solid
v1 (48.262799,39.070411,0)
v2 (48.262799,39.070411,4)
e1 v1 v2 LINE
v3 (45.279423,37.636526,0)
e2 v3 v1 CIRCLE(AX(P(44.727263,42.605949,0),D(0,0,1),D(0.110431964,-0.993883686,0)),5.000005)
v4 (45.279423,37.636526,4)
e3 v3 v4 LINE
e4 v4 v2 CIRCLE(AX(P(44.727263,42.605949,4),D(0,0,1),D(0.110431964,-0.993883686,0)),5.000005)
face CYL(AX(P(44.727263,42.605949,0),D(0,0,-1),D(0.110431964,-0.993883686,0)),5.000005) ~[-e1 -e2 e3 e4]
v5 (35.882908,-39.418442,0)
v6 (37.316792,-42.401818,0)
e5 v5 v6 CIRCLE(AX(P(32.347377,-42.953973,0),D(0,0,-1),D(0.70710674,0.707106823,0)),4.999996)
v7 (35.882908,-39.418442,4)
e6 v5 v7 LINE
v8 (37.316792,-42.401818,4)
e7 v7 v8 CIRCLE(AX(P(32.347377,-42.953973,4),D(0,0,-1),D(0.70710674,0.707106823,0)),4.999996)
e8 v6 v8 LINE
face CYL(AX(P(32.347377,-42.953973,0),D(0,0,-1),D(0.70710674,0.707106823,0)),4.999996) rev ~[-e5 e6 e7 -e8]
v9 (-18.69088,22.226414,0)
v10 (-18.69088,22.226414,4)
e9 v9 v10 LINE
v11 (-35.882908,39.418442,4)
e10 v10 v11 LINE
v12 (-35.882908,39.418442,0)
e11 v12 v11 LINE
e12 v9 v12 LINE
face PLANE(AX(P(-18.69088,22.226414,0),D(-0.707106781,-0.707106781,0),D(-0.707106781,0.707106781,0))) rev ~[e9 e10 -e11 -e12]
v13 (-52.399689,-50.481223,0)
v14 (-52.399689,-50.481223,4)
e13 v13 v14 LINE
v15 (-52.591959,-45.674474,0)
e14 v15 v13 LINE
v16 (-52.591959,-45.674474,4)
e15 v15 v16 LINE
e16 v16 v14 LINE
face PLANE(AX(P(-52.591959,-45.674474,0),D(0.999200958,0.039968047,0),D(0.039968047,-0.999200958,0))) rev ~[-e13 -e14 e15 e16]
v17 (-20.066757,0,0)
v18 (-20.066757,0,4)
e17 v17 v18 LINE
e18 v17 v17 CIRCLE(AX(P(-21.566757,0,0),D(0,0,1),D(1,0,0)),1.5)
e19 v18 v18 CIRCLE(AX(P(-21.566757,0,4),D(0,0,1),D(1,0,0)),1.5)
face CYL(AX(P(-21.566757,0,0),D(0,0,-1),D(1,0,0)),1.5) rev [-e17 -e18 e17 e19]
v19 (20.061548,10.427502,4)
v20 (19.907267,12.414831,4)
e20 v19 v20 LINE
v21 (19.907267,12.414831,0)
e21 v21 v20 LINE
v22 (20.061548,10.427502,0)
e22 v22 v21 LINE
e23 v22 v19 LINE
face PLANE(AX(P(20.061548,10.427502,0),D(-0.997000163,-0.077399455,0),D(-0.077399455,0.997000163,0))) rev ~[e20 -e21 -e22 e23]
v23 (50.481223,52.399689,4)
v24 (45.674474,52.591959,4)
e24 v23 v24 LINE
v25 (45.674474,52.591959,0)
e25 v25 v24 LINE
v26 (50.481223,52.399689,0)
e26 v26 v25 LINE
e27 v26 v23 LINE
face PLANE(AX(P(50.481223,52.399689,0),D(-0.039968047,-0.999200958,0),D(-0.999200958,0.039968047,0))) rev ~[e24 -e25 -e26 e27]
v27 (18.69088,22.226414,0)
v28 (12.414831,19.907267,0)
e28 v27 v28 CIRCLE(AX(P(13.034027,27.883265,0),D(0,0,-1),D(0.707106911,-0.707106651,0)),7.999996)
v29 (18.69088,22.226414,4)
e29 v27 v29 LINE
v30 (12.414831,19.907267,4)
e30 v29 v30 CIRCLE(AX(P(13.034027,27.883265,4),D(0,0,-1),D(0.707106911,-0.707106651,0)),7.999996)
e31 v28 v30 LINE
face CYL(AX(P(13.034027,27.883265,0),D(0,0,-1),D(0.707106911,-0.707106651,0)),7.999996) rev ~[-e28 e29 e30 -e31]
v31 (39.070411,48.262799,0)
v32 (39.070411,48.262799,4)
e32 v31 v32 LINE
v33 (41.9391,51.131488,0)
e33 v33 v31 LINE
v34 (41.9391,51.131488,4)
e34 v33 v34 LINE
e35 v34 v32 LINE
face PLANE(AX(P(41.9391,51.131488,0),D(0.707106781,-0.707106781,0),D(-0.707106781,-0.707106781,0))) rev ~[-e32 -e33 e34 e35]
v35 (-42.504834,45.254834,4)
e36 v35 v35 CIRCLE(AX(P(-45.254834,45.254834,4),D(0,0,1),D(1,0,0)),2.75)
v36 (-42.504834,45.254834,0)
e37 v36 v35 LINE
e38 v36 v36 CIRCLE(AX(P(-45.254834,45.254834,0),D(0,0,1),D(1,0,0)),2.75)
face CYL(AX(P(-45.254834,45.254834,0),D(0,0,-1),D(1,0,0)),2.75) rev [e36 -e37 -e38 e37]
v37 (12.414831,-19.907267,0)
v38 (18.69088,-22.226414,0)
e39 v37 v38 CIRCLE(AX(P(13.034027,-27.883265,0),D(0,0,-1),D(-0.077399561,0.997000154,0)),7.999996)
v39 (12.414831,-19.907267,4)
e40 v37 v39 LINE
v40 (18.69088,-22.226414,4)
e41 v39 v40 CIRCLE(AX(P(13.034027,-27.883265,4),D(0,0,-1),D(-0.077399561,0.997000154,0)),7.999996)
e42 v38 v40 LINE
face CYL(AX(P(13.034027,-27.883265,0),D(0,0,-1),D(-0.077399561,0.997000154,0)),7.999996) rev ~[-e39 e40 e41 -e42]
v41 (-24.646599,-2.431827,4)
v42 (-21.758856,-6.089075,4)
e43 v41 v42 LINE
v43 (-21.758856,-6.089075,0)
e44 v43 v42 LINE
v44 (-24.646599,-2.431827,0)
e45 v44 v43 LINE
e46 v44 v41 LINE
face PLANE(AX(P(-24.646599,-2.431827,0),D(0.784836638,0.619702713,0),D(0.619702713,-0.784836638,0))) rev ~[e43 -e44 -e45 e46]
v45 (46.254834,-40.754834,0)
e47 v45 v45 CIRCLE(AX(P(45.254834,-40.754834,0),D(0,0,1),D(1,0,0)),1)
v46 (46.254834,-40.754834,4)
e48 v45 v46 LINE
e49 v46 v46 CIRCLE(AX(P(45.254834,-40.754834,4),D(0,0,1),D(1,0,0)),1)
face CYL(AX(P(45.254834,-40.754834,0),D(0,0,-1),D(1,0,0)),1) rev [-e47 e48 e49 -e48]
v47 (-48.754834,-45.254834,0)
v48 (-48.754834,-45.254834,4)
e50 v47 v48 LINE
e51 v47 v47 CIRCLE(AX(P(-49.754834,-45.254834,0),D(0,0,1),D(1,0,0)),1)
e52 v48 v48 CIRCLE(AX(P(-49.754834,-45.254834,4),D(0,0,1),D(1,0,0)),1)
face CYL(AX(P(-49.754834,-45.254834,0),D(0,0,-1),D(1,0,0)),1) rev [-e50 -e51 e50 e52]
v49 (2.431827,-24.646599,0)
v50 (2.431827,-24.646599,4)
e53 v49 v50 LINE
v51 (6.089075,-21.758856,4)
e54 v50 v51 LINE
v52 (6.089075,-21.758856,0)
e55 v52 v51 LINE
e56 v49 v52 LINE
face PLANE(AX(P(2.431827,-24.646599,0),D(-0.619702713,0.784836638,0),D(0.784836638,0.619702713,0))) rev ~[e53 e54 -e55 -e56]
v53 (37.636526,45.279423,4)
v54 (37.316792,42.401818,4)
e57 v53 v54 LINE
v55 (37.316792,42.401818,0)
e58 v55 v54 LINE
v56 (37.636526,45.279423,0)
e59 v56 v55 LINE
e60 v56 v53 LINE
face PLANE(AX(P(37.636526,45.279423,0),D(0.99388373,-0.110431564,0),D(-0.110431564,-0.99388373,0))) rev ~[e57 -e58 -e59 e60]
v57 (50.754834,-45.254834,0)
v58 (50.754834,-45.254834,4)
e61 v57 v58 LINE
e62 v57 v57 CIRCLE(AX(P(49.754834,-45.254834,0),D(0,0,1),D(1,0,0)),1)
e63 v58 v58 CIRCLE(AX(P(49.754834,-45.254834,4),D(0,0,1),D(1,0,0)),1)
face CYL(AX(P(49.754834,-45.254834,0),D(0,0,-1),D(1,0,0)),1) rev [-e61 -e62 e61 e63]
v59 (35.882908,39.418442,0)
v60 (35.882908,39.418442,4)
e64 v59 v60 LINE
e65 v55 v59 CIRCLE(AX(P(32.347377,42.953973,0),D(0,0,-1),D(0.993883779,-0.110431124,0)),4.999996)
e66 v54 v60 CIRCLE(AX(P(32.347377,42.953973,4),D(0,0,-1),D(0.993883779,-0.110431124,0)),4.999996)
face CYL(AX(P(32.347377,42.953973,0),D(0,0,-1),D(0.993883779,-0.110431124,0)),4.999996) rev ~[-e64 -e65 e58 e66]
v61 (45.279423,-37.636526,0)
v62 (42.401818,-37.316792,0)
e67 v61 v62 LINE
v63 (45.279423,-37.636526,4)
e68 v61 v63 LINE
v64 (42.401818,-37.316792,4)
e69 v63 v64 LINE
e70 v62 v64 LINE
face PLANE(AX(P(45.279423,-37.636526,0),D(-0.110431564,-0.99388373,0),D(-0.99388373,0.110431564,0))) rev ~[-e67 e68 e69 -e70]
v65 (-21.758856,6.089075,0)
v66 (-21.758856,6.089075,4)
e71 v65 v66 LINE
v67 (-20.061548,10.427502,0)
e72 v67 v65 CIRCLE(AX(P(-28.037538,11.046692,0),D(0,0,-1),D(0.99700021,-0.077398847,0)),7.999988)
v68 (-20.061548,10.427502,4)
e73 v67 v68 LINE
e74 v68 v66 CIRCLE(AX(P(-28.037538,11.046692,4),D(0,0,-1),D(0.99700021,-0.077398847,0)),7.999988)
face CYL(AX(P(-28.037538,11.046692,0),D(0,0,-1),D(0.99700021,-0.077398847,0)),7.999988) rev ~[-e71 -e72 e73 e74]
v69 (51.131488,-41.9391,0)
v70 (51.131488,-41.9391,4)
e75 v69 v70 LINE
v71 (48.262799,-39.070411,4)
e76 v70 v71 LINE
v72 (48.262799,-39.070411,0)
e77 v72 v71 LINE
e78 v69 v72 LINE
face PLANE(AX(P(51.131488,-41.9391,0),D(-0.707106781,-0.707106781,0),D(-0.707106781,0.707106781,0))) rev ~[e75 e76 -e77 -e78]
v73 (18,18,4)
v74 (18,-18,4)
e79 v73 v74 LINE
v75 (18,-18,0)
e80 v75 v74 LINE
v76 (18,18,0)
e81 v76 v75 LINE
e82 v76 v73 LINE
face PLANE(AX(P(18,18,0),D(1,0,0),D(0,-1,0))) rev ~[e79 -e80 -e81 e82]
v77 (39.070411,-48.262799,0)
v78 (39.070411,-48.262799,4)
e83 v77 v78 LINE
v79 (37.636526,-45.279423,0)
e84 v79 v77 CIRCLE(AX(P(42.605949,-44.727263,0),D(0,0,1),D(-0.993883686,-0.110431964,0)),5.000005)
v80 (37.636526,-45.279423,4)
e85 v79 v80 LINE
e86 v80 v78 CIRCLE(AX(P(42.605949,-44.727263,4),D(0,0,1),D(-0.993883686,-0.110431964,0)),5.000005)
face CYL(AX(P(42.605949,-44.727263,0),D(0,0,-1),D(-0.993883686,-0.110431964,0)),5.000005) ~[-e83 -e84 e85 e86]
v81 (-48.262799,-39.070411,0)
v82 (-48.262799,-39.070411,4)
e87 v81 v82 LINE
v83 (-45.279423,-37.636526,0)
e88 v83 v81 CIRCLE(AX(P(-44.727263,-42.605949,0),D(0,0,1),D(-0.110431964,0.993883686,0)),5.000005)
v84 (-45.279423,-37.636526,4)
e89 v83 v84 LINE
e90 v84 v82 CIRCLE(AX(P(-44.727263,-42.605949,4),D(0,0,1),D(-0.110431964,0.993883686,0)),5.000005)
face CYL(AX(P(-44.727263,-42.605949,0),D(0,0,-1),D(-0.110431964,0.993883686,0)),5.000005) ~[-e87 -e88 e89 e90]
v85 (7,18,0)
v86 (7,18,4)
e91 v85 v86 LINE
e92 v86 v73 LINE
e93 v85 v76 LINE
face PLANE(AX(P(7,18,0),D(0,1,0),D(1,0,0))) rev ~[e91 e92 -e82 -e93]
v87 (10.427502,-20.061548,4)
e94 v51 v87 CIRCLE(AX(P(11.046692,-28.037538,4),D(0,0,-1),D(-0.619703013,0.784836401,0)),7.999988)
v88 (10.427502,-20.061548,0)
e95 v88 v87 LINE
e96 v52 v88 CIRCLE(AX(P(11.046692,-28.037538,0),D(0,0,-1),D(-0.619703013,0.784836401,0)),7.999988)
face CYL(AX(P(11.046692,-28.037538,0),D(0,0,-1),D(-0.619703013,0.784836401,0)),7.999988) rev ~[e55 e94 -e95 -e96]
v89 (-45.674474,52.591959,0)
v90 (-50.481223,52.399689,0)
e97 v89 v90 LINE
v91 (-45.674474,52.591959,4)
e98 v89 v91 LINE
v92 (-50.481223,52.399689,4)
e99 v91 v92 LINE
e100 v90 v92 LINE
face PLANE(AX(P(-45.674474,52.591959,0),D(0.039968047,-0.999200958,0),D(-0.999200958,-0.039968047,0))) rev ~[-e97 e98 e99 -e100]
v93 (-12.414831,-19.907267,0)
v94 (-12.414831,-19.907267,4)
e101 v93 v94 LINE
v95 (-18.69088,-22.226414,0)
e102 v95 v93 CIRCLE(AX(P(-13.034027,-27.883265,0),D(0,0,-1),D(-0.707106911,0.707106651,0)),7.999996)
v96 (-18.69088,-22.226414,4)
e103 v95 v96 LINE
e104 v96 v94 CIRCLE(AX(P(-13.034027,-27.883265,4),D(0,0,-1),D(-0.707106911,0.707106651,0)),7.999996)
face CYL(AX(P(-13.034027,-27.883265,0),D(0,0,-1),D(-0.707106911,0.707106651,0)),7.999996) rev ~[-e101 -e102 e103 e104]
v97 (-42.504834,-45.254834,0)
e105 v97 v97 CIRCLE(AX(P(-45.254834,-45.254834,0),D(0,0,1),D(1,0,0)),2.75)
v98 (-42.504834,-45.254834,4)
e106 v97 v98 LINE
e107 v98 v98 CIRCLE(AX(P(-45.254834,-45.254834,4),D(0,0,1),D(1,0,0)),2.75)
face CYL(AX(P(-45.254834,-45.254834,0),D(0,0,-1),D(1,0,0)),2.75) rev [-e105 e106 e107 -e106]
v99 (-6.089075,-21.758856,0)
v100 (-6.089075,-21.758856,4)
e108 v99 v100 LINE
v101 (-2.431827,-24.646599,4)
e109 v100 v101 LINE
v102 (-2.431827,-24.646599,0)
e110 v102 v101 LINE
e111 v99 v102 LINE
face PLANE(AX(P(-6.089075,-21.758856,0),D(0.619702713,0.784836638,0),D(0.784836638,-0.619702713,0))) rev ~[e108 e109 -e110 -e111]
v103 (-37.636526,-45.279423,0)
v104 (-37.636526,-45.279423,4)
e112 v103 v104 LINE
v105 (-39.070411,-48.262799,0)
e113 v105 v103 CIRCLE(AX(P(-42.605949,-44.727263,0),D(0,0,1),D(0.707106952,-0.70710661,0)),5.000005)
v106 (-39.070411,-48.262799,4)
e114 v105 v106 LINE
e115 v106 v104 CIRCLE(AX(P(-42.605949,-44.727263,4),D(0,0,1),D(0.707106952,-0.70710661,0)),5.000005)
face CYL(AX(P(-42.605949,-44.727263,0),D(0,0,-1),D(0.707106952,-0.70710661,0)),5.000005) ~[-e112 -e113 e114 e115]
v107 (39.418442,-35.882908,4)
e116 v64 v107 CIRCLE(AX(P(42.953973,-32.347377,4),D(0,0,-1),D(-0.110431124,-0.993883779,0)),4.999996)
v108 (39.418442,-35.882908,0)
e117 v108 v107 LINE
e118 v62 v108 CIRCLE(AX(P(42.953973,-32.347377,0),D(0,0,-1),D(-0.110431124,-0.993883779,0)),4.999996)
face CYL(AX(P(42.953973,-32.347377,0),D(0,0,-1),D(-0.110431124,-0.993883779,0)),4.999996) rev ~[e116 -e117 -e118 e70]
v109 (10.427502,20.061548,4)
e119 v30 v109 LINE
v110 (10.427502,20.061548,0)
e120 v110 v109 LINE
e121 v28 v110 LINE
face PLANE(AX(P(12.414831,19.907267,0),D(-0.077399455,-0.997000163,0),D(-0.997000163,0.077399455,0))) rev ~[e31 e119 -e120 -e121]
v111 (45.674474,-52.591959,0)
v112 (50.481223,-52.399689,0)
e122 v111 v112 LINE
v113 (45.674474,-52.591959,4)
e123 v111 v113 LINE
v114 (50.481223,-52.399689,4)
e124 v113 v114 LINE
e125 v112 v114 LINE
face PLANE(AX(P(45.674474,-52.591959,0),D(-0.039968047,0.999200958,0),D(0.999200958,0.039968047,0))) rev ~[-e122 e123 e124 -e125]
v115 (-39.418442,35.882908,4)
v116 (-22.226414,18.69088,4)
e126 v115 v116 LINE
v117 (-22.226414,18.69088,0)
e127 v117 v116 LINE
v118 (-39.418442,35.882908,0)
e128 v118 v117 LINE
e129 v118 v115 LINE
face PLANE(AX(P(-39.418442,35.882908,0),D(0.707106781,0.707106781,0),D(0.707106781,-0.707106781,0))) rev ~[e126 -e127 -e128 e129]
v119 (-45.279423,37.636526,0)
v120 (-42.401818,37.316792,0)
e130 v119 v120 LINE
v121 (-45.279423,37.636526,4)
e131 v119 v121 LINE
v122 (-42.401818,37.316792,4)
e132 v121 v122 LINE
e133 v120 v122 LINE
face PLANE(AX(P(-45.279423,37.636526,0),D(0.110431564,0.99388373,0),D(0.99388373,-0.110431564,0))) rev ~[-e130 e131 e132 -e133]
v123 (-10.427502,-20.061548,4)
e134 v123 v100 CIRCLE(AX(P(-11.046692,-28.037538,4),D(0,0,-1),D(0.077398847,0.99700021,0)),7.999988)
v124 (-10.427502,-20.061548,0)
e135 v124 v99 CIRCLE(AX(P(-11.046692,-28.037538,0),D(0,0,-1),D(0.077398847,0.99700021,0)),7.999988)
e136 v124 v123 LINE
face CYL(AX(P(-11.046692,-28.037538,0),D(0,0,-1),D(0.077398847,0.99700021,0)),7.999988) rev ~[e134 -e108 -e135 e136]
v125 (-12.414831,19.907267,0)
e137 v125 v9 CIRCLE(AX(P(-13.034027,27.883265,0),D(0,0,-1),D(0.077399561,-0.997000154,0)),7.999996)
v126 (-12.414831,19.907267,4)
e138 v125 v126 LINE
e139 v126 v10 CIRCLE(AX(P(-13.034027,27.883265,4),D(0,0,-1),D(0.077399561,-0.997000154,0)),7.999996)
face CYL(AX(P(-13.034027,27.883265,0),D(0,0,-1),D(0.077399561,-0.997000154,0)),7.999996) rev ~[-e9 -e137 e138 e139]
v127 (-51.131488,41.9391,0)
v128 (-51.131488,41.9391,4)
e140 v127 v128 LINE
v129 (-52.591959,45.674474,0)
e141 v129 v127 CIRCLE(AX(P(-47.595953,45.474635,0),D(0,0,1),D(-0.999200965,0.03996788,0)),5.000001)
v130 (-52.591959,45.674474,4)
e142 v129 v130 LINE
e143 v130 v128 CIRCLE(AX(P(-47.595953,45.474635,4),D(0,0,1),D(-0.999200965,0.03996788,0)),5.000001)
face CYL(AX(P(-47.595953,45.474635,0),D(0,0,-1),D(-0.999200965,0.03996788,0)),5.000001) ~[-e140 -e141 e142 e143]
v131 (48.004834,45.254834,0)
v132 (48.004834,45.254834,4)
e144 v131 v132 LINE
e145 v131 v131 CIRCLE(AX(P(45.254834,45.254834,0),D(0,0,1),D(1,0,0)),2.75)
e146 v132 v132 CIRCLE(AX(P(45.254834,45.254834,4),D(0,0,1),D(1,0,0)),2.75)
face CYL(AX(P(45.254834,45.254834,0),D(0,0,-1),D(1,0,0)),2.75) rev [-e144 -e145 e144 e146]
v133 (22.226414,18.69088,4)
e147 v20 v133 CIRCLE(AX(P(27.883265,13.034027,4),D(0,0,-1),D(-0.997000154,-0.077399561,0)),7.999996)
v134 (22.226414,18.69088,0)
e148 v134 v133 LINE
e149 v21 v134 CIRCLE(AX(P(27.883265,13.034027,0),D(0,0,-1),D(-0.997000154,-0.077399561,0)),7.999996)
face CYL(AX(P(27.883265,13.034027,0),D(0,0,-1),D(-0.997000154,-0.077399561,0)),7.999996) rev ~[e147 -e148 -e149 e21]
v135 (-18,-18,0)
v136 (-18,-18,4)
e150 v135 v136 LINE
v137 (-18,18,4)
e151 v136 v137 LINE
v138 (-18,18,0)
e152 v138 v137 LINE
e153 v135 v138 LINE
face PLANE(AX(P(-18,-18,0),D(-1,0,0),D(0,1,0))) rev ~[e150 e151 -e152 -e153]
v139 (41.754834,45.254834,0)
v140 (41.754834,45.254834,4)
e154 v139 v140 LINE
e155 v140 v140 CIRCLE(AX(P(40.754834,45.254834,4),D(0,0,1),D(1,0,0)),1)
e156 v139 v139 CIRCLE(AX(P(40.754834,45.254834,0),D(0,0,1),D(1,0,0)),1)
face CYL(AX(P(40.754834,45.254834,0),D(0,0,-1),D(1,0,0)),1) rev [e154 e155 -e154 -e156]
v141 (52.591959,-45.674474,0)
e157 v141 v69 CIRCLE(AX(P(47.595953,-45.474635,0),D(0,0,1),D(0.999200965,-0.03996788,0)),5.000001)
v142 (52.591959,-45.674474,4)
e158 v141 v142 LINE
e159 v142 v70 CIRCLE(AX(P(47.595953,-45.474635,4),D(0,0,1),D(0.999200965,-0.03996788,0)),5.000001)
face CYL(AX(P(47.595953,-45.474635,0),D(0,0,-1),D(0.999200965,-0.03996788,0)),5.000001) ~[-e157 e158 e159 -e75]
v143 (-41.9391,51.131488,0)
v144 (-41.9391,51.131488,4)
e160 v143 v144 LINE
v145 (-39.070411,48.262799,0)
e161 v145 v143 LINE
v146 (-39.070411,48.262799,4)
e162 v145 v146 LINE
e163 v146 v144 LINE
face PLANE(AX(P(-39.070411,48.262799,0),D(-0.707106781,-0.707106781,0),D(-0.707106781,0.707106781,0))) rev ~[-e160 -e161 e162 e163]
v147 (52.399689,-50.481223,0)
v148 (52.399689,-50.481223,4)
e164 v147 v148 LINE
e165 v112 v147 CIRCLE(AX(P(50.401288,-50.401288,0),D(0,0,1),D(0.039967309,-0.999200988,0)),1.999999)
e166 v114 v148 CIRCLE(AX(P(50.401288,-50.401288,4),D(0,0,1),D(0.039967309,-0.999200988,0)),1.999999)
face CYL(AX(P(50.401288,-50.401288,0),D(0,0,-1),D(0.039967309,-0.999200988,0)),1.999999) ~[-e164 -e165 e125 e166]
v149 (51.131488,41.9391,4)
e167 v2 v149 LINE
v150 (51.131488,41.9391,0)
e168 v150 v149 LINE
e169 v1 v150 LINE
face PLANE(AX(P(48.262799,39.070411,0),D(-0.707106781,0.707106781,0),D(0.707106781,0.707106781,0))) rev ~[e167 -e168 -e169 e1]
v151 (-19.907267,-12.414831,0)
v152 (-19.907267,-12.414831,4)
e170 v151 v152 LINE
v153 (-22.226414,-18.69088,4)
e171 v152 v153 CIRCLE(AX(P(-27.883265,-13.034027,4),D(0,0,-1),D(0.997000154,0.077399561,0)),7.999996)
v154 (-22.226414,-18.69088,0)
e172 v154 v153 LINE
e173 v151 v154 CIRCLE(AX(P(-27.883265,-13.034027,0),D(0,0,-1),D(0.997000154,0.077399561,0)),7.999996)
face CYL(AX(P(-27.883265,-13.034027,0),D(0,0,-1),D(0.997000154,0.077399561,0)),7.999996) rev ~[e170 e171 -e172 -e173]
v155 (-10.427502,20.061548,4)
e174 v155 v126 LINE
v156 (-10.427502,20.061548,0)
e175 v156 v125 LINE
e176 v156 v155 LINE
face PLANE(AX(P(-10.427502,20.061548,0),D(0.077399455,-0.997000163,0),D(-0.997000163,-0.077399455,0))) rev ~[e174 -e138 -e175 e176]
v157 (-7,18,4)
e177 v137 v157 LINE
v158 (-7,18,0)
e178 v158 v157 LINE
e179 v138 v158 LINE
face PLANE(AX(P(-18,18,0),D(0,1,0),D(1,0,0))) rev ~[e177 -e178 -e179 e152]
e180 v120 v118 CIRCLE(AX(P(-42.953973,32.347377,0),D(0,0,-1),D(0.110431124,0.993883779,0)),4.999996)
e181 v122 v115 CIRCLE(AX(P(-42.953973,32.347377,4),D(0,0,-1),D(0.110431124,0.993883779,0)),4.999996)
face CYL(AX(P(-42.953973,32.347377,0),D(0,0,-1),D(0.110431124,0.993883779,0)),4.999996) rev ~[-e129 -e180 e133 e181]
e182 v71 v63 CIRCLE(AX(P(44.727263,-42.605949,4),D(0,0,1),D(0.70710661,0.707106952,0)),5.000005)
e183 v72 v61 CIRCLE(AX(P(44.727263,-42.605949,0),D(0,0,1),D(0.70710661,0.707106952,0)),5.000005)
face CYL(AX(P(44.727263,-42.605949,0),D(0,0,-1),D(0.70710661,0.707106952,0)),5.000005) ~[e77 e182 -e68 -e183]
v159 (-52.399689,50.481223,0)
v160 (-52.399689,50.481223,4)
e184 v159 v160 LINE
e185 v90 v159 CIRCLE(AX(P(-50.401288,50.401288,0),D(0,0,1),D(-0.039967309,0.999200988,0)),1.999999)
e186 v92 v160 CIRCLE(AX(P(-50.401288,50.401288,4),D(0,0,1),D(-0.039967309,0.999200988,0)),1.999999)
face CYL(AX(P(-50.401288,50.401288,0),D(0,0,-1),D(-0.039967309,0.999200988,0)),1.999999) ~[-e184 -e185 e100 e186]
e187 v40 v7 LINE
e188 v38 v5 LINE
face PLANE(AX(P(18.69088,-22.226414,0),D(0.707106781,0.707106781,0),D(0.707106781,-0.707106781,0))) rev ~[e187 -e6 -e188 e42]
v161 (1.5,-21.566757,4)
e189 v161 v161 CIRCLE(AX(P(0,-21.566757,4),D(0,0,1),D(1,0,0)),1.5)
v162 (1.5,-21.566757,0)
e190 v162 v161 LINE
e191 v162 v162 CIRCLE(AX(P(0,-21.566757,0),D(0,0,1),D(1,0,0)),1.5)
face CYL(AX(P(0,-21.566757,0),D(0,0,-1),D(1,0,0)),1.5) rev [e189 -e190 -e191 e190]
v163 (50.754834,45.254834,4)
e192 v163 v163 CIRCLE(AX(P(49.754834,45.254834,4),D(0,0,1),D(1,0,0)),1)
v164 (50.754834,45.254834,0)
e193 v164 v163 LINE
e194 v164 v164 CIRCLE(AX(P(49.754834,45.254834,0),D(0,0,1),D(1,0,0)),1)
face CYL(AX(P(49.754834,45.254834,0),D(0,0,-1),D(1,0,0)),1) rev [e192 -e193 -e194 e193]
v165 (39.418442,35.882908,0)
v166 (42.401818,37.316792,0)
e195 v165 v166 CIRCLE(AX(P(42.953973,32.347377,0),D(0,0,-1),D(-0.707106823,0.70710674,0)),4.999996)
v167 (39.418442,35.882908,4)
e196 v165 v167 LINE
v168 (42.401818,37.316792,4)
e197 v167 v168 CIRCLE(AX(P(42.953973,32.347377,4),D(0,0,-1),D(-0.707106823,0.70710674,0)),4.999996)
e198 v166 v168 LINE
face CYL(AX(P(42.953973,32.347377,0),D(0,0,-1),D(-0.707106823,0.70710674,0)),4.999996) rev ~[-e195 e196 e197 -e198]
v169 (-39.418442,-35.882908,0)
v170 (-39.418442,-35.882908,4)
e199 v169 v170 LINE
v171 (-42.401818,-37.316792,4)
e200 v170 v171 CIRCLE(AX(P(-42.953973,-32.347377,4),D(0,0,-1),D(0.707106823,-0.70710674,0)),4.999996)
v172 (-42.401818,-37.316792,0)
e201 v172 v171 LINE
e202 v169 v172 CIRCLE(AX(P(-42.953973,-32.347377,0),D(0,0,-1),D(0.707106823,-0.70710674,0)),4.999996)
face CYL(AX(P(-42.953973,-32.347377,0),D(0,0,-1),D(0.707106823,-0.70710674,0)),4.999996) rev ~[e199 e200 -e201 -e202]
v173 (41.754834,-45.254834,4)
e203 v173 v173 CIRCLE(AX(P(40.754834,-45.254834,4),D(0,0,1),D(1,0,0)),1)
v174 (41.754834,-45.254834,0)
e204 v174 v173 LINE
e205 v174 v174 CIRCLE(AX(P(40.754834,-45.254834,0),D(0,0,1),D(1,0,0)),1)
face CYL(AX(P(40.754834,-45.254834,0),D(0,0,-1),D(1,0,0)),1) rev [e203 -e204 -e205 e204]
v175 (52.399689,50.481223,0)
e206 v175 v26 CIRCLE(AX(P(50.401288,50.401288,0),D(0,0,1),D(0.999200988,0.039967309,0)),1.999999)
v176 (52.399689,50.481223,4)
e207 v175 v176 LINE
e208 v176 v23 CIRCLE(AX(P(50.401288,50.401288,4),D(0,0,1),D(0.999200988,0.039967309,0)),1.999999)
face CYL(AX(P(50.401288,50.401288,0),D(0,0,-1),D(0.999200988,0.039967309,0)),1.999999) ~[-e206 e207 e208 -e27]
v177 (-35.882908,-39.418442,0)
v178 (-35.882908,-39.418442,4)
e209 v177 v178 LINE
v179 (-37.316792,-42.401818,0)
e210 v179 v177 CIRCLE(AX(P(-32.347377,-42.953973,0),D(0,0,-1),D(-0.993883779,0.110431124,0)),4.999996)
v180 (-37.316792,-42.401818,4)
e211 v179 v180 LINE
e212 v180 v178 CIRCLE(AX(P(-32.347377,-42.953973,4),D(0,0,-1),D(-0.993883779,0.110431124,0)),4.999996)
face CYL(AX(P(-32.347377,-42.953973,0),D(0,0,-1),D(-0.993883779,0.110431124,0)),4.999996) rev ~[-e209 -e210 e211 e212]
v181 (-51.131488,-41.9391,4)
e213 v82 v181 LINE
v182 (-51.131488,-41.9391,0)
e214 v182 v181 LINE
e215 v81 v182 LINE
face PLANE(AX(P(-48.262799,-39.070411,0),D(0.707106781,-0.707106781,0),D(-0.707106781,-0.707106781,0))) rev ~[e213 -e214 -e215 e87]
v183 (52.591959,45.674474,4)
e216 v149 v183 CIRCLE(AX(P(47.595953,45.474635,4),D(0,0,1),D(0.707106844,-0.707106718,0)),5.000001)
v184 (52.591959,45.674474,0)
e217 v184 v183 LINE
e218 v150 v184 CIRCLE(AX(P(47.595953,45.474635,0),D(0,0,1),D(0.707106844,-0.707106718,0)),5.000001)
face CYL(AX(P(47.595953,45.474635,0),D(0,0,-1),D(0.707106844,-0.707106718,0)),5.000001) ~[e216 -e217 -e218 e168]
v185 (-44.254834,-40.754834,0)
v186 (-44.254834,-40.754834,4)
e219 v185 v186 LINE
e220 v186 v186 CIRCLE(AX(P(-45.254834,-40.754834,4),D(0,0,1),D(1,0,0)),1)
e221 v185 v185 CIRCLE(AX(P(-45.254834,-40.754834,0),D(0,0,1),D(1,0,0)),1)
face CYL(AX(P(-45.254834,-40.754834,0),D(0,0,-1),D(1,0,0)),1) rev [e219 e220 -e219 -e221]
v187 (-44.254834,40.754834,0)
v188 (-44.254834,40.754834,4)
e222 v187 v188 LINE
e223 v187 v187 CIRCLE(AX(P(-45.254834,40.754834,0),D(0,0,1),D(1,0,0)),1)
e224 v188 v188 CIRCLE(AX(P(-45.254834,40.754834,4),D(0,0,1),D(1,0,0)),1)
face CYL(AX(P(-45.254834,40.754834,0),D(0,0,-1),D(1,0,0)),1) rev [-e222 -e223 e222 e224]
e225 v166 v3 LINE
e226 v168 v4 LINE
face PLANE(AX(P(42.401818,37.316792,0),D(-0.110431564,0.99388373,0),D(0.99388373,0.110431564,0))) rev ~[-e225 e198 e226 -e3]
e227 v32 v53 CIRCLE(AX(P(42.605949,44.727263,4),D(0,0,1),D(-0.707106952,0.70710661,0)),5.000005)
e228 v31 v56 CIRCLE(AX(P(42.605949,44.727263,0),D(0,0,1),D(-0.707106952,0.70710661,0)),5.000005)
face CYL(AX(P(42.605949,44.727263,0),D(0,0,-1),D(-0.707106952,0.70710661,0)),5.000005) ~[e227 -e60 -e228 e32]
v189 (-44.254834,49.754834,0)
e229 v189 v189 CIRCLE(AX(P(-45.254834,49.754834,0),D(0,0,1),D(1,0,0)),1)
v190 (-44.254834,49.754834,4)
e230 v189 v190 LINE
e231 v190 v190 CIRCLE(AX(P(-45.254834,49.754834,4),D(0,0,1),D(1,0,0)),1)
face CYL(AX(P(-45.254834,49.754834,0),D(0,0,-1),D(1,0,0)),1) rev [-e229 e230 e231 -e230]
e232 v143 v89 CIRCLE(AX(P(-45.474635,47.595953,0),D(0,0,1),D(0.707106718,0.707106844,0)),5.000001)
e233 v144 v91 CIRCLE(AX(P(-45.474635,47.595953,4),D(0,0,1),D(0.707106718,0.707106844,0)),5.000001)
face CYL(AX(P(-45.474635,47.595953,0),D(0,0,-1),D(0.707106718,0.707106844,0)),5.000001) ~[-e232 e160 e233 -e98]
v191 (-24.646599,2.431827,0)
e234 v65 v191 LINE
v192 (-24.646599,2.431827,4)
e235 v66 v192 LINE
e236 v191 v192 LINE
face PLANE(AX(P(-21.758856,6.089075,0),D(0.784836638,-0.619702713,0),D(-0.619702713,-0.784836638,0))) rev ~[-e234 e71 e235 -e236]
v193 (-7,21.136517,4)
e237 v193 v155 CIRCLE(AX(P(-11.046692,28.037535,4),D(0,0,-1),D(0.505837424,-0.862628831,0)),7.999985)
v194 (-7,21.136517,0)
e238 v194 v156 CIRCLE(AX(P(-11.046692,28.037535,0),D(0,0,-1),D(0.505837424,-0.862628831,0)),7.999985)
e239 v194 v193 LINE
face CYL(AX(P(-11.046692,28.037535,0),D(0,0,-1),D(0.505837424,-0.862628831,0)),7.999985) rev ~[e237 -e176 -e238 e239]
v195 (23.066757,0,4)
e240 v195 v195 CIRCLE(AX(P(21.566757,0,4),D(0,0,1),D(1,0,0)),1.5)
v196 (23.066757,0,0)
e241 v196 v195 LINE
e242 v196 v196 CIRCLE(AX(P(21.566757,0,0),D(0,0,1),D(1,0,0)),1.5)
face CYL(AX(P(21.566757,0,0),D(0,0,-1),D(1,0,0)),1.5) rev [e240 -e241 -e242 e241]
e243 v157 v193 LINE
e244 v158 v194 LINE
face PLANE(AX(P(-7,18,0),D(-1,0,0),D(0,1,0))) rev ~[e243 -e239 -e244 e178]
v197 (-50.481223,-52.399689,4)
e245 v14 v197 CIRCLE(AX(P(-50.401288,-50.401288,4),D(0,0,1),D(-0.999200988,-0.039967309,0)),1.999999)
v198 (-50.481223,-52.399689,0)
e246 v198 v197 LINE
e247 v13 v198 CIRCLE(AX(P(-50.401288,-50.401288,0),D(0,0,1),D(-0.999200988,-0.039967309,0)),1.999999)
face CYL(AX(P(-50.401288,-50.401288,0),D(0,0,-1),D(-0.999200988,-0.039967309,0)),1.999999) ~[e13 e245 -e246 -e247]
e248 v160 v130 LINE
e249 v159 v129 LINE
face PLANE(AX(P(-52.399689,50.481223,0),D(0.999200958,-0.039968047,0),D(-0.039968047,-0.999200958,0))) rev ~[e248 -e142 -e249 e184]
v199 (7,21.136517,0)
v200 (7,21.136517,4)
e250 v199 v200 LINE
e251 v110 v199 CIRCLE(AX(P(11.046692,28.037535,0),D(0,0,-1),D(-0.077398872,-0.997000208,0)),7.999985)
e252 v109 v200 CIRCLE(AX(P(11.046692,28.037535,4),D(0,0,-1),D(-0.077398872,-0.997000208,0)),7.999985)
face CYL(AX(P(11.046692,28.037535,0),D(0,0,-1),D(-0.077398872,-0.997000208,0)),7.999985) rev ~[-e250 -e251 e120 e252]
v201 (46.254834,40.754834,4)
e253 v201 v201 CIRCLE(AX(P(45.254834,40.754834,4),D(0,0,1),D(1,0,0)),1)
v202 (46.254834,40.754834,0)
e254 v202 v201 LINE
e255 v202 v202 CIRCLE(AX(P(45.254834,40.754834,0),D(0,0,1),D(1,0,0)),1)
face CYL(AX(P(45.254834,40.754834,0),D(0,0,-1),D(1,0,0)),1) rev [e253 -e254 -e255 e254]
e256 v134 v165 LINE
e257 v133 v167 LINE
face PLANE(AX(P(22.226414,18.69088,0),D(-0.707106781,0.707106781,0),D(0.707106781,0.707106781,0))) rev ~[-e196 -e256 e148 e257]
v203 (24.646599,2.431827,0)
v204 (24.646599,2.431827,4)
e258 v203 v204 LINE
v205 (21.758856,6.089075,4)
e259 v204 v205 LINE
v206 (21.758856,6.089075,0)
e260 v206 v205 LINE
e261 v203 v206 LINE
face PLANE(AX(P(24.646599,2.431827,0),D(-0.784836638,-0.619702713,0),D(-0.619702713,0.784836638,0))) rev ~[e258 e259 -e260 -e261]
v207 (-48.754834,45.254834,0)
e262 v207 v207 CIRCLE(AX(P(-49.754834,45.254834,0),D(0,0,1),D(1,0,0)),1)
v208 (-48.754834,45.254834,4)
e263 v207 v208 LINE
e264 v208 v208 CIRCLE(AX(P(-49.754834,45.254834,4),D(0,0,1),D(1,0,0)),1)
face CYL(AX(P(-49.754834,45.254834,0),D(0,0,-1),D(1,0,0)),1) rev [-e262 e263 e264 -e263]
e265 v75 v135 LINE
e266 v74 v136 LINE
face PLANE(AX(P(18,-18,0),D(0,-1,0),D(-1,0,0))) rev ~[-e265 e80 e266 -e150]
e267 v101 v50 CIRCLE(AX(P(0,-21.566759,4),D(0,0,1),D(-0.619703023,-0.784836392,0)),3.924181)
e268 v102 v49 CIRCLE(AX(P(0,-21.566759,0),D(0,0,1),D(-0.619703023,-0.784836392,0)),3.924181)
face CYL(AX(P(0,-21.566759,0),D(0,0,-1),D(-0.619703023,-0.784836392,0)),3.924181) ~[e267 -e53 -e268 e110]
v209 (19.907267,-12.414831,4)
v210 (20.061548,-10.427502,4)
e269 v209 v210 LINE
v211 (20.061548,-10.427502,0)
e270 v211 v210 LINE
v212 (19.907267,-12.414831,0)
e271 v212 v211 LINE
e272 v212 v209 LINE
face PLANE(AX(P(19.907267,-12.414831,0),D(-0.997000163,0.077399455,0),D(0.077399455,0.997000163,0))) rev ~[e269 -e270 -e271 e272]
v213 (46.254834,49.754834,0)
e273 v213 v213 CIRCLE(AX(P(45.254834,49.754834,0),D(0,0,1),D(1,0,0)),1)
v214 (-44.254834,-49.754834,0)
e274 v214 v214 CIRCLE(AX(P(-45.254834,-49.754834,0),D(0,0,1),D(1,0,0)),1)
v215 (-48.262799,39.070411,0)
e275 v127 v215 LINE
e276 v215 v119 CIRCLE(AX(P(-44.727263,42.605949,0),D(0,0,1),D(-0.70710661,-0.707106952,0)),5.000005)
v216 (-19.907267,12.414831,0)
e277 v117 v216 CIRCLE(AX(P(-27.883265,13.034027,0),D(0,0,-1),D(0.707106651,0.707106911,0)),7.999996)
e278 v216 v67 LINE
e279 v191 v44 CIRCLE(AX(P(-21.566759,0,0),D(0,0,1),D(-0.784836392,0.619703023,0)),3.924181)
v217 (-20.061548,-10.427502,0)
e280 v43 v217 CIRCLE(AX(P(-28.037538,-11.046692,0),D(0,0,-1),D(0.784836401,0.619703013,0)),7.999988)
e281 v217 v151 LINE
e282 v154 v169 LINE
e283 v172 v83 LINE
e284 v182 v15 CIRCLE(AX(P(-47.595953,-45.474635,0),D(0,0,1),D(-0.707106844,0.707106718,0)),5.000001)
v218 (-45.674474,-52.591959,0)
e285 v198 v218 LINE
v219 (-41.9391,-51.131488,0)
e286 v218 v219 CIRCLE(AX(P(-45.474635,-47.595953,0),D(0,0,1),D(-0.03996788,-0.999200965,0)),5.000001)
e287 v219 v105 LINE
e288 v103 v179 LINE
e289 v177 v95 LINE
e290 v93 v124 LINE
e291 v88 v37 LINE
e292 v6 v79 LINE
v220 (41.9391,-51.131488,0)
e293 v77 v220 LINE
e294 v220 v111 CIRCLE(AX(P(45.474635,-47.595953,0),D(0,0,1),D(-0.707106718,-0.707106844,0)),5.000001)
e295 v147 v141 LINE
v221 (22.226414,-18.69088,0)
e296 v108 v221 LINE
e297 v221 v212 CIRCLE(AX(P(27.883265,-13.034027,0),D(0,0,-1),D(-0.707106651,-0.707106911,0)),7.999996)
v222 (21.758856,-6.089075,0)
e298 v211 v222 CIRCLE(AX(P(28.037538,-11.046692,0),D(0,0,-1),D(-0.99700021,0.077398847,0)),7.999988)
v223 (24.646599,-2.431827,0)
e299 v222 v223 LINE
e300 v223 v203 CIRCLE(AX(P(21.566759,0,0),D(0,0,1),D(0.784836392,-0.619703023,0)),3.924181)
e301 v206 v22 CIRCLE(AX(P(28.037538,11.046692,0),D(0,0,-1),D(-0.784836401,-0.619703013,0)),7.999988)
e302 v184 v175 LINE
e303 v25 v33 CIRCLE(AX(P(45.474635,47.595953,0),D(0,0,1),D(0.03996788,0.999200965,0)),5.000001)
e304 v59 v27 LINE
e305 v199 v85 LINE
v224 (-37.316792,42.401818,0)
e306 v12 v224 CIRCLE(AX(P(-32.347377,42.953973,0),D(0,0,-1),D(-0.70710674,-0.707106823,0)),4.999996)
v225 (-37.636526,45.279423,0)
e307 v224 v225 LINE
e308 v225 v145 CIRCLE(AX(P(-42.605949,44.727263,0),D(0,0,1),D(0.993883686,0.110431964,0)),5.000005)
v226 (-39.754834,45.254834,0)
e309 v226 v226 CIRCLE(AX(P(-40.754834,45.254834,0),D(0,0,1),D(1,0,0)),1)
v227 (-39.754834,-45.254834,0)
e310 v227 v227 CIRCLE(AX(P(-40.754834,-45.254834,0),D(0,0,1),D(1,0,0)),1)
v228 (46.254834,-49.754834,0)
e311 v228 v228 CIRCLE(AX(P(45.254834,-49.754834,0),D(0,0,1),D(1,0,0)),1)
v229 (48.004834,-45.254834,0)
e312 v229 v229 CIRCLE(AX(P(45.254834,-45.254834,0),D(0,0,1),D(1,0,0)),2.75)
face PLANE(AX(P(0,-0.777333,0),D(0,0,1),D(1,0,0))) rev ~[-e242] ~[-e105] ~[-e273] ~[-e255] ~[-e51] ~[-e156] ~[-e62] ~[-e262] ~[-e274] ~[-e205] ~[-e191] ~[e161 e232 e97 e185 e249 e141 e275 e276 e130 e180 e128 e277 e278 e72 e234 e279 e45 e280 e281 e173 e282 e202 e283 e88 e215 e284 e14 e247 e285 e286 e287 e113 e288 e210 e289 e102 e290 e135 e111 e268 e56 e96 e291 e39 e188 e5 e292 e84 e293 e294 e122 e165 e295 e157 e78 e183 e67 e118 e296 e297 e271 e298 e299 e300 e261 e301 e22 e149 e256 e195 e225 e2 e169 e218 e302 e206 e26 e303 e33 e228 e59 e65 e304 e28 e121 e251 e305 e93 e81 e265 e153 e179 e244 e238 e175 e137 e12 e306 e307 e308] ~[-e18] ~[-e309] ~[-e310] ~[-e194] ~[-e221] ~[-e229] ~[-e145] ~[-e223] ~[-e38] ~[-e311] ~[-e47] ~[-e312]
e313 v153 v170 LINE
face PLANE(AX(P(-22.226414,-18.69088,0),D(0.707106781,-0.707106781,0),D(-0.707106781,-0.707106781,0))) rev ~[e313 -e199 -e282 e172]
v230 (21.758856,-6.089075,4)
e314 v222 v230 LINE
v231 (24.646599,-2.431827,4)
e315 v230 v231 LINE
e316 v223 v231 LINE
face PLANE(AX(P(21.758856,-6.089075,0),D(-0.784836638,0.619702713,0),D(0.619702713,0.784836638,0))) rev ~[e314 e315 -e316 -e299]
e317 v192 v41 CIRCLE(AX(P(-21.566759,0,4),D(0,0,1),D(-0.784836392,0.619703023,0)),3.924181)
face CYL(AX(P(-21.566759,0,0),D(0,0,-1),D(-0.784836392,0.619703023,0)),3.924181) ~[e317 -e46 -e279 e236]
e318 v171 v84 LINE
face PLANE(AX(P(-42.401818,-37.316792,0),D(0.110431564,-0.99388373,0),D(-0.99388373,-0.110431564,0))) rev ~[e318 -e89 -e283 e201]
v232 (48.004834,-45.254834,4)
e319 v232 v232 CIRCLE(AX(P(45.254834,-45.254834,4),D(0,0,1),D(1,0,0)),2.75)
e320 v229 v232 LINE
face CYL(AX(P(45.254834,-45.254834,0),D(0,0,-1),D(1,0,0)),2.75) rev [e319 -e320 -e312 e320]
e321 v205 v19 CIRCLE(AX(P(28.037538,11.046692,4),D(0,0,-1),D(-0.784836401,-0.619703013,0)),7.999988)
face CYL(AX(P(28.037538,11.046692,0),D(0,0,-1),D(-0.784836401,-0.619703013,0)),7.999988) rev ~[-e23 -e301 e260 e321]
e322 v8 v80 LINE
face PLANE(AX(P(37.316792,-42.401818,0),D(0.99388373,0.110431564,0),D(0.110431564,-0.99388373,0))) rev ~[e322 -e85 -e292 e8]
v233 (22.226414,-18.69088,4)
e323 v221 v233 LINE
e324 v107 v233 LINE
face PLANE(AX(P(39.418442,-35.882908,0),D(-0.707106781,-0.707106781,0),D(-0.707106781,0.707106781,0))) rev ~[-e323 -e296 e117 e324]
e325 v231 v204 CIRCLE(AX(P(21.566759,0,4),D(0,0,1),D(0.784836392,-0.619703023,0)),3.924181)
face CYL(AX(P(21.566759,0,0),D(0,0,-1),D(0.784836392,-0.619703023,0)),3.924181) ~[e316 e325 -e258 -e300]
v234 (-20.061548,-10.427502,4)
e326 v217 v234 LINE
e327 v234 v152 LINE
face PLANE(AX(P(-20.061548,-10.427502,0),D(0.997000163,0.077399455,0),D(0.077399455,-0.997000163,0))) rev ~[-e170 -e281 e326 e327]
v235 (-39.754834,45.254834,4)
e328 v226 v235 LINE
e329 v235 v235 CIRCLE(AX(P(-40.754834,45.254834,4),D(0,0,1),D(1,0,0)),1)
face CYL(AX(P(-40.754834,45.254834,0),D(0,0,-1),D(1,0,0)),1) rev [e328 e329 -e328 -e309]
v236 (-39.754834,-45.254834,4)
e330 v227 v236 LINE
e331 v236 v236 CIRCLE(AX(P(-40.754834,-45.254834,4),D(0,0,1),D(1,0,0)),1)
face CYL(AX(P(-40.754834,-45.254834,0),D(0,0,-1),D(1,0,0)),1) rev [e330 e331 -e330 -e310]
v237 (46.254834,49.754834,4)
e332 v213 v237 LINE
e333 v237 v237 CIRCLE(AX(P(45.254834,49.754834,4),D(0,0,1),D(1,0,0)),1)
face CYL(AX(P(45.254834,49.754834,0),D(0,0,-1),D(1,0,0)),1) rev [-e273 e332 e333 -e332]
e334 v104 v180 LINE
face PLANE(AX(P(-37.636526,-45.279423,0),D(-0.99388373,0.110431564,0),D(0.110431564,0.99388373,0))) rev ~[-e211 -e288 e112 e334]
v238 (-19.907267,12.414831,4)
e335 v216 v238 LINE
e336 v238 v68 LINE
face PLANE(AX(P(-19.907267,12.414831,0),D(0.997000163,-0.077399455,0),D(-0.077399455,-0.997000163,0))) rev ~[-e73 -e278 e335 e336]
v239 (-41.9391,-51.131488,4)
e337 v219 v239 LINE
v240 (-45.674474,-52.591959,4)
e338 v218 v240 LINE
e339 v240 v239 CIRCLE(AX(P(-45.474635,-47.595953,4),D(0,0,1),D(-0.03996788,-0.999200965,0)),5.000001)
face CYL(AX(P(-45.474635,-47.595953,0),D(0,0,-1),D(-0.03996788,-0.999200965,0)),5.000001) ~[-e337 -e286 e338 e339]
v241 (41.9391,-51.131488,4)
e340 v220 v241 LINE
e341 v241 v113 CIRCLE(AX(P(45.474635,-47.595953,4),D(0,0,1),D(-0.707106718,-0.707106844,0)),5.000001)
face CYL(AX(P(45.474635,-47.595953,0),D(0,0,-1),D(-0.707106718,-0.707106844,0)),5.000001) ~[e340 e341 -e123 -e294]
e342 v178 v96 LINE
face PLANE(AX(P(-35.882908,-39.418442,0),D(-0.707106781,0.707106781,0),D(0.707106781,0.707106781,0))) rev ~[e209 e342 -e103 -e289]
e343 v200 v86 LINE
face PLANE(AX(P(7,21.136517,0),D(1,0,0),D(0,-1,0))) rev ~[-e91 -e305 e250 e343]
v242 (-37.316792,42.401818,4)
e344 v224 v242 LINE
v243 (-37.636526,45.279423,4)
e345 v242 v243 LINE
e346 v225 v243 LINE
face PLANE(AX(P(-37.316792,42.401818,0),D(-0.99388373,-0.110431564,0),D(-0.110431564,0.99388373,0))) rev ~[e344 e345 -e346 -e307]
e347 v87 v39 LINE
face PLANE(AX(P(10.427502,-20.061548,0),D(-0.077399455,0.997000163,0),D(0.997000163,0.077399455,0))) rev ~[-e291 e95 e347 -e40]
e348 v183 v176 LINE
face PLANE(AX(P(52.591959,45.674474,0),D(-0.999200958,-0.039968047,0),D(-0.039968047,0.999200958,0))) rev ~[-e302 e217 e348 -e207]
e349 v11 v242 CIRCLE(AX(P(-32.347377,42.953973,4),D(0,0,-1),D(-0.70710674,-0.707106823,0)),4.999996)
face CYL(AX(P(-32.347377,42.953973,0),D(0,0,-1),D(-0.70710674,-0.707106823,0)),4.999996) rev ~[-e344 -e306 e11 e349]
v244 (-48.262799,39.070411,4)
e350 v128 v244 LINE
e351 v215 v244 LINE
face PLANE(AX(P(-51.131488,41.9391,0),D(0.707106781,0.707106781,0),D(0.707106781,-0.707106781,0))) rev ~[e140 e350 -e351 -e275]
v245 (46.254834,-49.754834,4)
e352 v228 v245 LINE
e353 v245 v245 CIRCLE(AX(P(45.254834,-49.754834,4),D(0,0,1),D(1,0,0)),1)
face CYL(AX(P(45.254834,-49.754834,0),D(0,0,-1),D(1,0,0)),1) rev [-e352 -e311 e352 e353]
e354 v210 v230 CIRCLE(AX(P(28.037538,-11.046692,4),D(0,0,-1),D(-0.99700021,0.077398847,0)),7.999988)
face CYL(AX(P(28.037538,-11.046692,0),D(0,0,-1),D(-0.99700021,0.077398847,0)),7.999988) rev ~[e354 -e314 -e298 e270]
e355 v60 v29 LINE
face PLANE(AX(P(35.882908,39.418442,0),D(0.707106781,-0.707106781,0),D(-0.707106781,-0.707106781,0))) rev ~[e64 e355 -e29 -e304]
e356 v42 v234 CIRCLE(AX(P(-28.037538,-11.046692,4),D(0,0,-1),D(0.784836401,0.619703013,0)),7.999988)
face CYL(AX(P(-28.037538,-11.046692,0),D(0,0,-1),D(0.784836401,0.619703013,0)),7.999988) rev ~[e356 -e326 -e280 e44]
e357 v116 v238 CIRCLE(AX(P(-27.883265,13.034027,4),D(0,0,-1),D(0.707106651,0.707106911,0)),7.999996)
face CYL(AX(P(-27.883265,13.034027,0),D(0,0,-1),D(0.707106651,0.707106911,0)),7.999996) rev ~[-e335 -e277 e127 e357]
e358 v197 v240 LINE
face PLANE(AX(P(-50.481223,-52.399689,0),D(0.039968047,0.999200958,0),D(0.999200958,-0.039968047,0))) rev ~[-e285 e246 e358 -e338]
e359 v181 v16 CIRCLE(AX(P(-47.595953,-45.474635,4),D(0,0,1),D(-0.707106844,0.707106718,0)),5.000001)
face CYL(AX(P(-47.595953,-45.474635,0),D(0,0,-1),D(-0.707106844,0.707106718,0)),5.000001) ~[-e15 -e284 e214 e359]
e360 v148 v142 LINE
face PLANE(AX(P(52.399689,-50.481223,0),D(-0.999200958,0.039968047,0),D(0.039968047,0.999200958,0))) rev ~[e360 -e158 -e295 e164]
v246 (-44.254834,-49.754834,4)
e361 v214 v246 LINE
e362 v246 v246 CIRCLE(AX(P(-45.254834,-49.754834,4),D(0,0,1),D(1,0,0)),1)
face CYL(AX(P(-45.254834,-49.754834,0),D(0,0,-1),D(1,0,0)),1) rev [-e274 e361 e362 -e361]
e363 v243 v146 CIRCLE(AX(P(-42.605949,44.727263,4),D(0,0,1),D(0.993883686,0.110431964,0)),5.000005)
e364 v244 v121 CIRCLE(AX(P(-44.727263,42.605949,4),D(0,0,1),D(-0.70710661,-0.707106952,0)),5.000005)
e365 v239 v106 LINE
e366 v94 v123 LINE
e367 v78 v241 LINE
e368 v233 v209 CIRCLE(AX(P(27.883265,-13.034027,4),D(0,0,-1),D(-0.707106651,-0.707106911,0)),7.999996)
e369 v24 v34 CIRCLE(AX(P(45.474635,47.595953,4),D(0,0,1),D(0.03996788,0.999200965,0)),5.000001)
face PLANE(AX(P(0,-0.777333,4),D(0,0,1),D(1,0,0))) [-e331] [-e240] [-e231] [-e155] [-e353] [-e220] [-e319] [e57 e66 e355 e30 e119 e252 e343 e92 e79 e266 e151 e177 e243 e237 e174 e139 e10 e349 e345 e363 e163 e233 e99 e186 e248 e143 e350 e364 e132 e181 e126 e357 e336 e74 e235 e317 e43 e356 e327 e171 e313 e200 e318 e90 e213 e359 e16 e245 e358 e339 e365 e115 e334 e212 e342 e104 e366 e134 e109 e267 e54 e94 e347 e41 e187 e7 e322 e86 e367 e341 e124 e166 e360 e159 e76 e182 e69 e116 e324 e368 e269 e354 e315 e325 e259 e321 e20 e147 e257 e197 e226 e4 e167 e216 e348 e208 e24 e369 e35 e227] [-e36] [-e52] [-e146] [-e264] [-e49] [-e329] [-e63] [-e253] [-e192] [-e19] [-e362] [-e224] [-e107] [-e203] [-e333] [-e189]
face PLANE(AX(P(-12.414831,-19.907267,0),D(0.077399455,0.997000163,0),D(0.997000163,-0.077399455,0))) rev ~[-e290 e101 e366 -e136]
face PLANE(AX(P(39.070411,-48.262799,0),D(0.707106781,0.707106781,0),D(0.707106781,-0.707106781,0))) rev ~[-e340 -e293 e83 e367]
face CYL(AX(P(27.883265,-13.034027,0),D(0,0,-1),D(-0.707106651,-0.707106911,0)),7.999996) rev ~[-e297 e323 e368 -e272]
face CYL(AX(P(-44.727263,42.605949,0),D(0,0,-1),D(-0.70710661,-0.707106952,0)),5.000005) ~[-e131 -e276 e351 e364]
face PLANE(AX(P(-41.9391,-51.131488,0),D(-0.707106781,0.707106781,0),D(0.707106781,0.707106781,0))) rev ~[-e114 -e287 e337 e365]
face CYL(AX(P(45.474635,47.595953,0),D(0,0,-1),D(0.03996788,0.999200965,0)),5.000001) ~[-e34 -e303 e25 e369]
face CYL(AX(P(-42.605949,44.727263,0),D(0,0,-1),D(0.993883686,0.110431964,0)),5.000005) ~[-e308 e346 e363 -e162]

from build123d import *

# Parameters (mm, degrees)
F0_R     = 1
F0_R_2   = 2.75
F0_R_3   = 1.5
F1_DEPTH = 4


with BuildPart() as f1:
    # F0 (on Top) → F1 (new body)
    with BuildSketch(Plane.XY):
        with BuildLine():
            Line((-18, -18), (-18, 18))
            Line((-18, 18), (-7, 18))
            Line((-7, 18), (-7, 21.136517))
            ThreePointArc((-7, 21.136517), (-8.652636, 20.40417), (-10.427502, 20.061548))
            Line((-10.427502, 20.061548), (-12.414831, 19.907267))
            ThreePointArc((-12.414831, 19.907267), (-15.806951, 20.37921), (-18.69088, 22.226414))
            Line((-18.69088, 22.226414), (-35.882908, 39.418442))
            ThreePointArc((-35.882908, 39.418442), (-36.85389, 40.788032), (-37.316792, 42.401818))
            Line((-37.316792, 42.401818), (-37.636526, 45.279423))
            ThreePointArc((-37.636526, 45.279423), (-38.099429, 46.893209), (-39.070411, 48.262799))
            Line((-39.070411, 48.262799), (-41.9391, 51.131488))
            ThreePointArc((-41.9391, 51.131488), (-43.653931, 52.252674), (-45.674474, 52.591959))
            Line((-45.674474, 52.591959), (-50.481223, 52.399689))
            ThreePointArc((-50.481223, 52.399689), (-51.815501, 51.815501), (-52.399689, 50.481223))
            Line((-52.399689, 50.481223), (-52.591959, 45.674474))
            ThreePointArc((-52.591959, 45.674474), (-52.252674, 43.653931), (-51.131488, 41.9391))
            Line((-51.131488, 41.9391), (-48.262799, 39.070411))
            ThreePointArc((-48.262799, 39.070411), (-46.893209, 38.099429), (-45.279423, 37.636526))
            Line((-45.279423, 37.636526), (-42.401818, 37.316792))
            ThreePointArc((-42.401818, 37.316792), (-40.788032, 36.85389), (-39.418442, 35.882908))
            Line((-39.418442, 35.882908), (-22.226414, 18.69088))
            ThreePointArc((-22.226414, 18.69088), (-20.37921, 15.806951), (-19.907267, 12.414831))
            Line((-19.907267, 12.414831), (-20.061548, 10.427502))
            ThreePointArc((-20.061548, 10.427502), (-20.58741, 8.132004), (-21.758856, 6.089075))
            Line((-21.758856, 6.089075), (-24.646599, 2.431827))
            ThreePointArc((-24.646599, 2.431827), (-25.49094, 0), (-24.646599, -2.431827))
            Line((-24.646599, -2.431827), (-21.758856, -6.089075))
            ThreePointArc((-21.758856, -6.089075), (-20.58741, -8.132004), (-20.061548, -10.427502))
            Line((-20.061548, -10.427502), (-19.907267, -12.414831))
            ThreePointArc((-19.907267, -12.414831), (-20.37921, -15.806951), (-22.226414, -18.69088))
            Line((-22.226414, -18.69088), (-39.418442, -35.882908))
            ThreePointArc((-39.418442, -35.882908), (-40.788032, -36.85389), (-42.401818, -37.316792))
            Line((-42.401818, -37.316792), (-45.279423, -37.636526))
            ThreePointArc((-45.279423, -37.636526), (-46.893209, -38.099429), (-48.262799, -39.070411))
            Line((-48.262799, -39.070411), (-51.131488, -41.9391))
            ThreePointArc((-51.131488, -41.9391), (-52.252674, -43.653931), (-52.591959, -45.674474))
            Line((-52.591959, -45.674474), (-52.399689, -50.481223))
            ThreePointArc((-52.399689, -50.481223), (-51.815501, -51.815501), (-50.481223, -52.399689))
            Line((-50.481223, -52.399689), (-45.674474, -52.591959))
            ThreePointArc((-45.674474, -52.591959), (-43.653931, -52.252674), (-41.9391, -51.131488))
            Line((-41.9391, -51.131488), (-39.070411, -48.262799))
            ThreePointArc((-39.070411, -48.262799), (-38.099429, -46.893209), (-37.636526, -45.279423))
            Line((-37.636526, -45.279423), (-37.316792, -42.401818))
            ThreePointArc((-37.316792, -42.401818), (-36.85389, -40.788032), (-35.882908, -39.418442))
            Line((-35.882908, -39.418442), (-18.69088, -22.226414))
            ThreePointArc((-18.69088, -22.226414), (-15.806951, -20.37921), (-12.414831, -19.907267))
            Line((-12.414831, -19.907267), (-10.427502, -20.061548))
            ThreePointArc((-10.427502, -20.061548), (-8.132004, -20.58741), (-6.089075, -21.758856))
            Line((-6.089075, -21.758856), (-2.431827, -24.646599))
            ThreePointArc((-2.431827, -24.646599), (0, -25.49094), (2.431827, -24.646599))
            Line((2.431827, -24.646599), (6.089075, -21.758856))
            ThreePointArc((6.089075, -21.758856), (8.132004, -20.58741), (10.427502, -20.061548))
            Line((10.427502, -20.061548), (12.414831, -19.907267))
            ThreePointArc((12.414831, -19.907267), (15.806951, -20.37921), (18.69088, -22.226414))
            Line((18.69088, -22.226414), (35.882908, -39.418442))
            ThreePointArc((35.882908, -39.418442), (36.85389, -40.788032), (37.316792, -42.401818))
            Line((37.316792, -42.401818), (37.636526, -45.279423))
            ThreePointArc((37.636526, -45.279423), (38.099429, -46.893209), (39.070411, -48.262799))
            Line((39.070411, -48.262799), (41.9391, -51.131488))
            ThreePointArc((41.9391, -51.131488), (43.653931, -52.252674), (45.674474, -52.591959))
            Line((45.674474, -52.591959), (50.481223, -52.399689))
            ThreePointArc((50.481223, -52.399689), (51.815501, -51.815501), (52.399689, -50.481223))
            Line((52.399689, -50.481223), (52.591959, -45.674474))
            ThreePointArc((52.591959, -45.674474), (52.252674, -43.653931), (51.131488, -41.9391))
            Line((51.131488, -41.9391), (48.262799, -39.070411))
            ThreePointArc((48.262799, -39.070411), (46.893209, -38.099429), (45.279423, -37.636526))
            Line((45.279423, -37.636526), (42.401818, -37.316792))
            ThreePointArc((42.401818, -37.316792), (40.788032, -36.85389), (39.418442, -35.882908))
            Line((39.418442, -35.882908), (22.226414, -18.69088))
            ThreePointArc((22.226414, -18.69088), (20.37921, -15.806951), (19.907267, -12.414831))
            Line((19.907267, -12.414831), (20.061548, -10.427502))
            ThreePointArc((20.061548, -10.427502), (20.58741, -8.132004), (21.758856, -6.089075))
            Line((21.758856, -6.089075), (24.646599, -2.431827))
            ThreePointArc((24.646599, -2.431827), (25.49094, 0), (24.646599, 2.431827))
            Line((24.646599, 2.431827), (21.758856, 6.089075))
            ThreePointArc((21.758856, 6.089075), (20.58741, 8.132004), (20.061548, 10.427502))
            Line((20.061548, 10.427502), (19.907267, 12.414831))
            ThreePointArc((19.907267, 12.414831), (20.37921, 15.806951), (22.226414, 18.69088))
            Line((22.226414, 18.69088), (39.418442, 35.882908))
            ThreePointArc((39.418442, 35.882908), (40.788032, 36.85389), (42.401818, 37.316792))
            Line((42.401818, 37.316792), (45.279423, 37.636526))
            ThreePointArc((45.279423, 37.636526), (46.893209, 38.099429), (48.262799, 39.070411))
            Line((48.262799, 39.070411), (51.131488, 41.9391))
            ThreePointArc((51.131488, 41.9391), (52.252674, 43.653931), (52.591959, 45.674474))
            Line((52.591959, 45.674474), (52.399689, 50.481223))
            ThreePointArc((52.399689, 50.481223), (51.815501, 51.815501), (50.481223, 52.399689))
            Line((50.481223, 52.399689), (45.674474, 52.591959))
            ThreePointArc((45.674474, 52.591959), (43.653931, 52.252674), (41.9391, 51.131488))
            Line((41.9391, 51.131488), (39.070411, 48.262799))
            ThreePointArc((39.070411, 48.262799), (38.099429, 46.893209), (37.636526, 45.279423))
            Line((37.636526, 45.279423), (37.316792, 42.401818))
            ThreePointArc((37.316792, 42.401818), (36.85389, 40.788032), (35.882908, 39.418442))
            Line((35.882908, 39.418442), (18.69088, 22.226414))
            ThreePointArc((18.69088, 22.226414), (15.806951, 20.37921), (12.414831, 19.907267))
            Line((12.414831, 19.907267), (10.427502, 20.061548))
            ThreePointArc((10.427502, 20.061548), (8.652636, 20.40417), (7, 21.136517))
            Line((7, 21.136517), (7, 18))
            Line((7, 18), (18, 18))
            Line((18, 18), (18, -18))
            Line((18, -18), (-18, -18))
        make_face()
        with Locations((-45.254834, -49.754834)):
            Circle(F0_R, mode=Mode.SUBTRACT)
        with Locations((-49.754834, -45.254834)):
            Circle(F0_R, mode=Mode.SUBTRACT)
        with Locations((-45.254834, -45.254834)):
            Circle(F0_R_2, mode=Mode.SUBTRACT)
        with Locations((-40.754834, -45.254834)):
            Circle(F0_R, mode=Mode.SUBTRACT)
        with Locations((-45.254834, -40.754834)):
            Circle(F0_R, mode=Mode.SUBTRACT)
        with Locations((45.254834, -49.754834)):
            Circle(F0_R, mode=Mode.SUBTRACT)
        with Locations((40.754834, -45.254834)):
            Circle(F0_R, mode=Mode.SUBTRACT)
        with Locations((45.254834, -45.254834)):
            Circle(F0_R_2, mode=Mode.SUBTRACT)
        with Locations((45.254834, -40.754834)):
            Circle(F0_R, mode=Mode.SUBTRACT)
        with Locations((49.754834, -45.254834)):
            Circle(F0_R, mode=Mode.SUBTRACT)
        with Locations((0, -21.566757)):
            Circle(F0_R_3, mode=Mode.SUBTRACT)
        with Locations((-21.566757, 0)):
            Circle(F0_R_3, mode=Mode.SUBTRACT)
        with Locations((-49.754834, 45.254834)):
            Circle(F0_R, mode=Mode.SUBTRACT)
        with Locations((-45.254834, 40.754834)):
            Circle(F0_R, mode=Mode.SUBTRACT)
        with Locations((-45.254834, 45.254834)):
            Circle(F0_R_2, mode=Mode.SUBTRACT)
        with Locations((-40.754834, 45.254834)):
            Circle(F0_R, mode=Mode.SUBTRACT)
        with Locations((-45.254834, 49.754834)):
            Circle(F0_R, mode=Mode.SUBTRACT)
        with Locations((21.566757, 0)):
            Circle(F0_R_3, mode=Mode.SUBTRACT)
        with Locations((45.254834, 40.754834)):
            Circle(F0_R, mode=Mode.SUBTRACT)
        with Locations((40.754834, 45.254834)):
            Circle(F0_R, mode=Mode.SUBTRACT)
        with Locations((45.254834, 45.254834)):
            Circle(F0_R_2, mode=Mode.SUBTRACT)
        with Locations((49.754834, 45.254834)):
            Circle(F0_R, mode=Mode.SUBTRACT)
        with Locations((45.254834, 49.754834)):
            Circle(F0_R, mode=Mode.SUBTRACT)
    extrude(amount=F1_DEPTH)


solid = f1.part
